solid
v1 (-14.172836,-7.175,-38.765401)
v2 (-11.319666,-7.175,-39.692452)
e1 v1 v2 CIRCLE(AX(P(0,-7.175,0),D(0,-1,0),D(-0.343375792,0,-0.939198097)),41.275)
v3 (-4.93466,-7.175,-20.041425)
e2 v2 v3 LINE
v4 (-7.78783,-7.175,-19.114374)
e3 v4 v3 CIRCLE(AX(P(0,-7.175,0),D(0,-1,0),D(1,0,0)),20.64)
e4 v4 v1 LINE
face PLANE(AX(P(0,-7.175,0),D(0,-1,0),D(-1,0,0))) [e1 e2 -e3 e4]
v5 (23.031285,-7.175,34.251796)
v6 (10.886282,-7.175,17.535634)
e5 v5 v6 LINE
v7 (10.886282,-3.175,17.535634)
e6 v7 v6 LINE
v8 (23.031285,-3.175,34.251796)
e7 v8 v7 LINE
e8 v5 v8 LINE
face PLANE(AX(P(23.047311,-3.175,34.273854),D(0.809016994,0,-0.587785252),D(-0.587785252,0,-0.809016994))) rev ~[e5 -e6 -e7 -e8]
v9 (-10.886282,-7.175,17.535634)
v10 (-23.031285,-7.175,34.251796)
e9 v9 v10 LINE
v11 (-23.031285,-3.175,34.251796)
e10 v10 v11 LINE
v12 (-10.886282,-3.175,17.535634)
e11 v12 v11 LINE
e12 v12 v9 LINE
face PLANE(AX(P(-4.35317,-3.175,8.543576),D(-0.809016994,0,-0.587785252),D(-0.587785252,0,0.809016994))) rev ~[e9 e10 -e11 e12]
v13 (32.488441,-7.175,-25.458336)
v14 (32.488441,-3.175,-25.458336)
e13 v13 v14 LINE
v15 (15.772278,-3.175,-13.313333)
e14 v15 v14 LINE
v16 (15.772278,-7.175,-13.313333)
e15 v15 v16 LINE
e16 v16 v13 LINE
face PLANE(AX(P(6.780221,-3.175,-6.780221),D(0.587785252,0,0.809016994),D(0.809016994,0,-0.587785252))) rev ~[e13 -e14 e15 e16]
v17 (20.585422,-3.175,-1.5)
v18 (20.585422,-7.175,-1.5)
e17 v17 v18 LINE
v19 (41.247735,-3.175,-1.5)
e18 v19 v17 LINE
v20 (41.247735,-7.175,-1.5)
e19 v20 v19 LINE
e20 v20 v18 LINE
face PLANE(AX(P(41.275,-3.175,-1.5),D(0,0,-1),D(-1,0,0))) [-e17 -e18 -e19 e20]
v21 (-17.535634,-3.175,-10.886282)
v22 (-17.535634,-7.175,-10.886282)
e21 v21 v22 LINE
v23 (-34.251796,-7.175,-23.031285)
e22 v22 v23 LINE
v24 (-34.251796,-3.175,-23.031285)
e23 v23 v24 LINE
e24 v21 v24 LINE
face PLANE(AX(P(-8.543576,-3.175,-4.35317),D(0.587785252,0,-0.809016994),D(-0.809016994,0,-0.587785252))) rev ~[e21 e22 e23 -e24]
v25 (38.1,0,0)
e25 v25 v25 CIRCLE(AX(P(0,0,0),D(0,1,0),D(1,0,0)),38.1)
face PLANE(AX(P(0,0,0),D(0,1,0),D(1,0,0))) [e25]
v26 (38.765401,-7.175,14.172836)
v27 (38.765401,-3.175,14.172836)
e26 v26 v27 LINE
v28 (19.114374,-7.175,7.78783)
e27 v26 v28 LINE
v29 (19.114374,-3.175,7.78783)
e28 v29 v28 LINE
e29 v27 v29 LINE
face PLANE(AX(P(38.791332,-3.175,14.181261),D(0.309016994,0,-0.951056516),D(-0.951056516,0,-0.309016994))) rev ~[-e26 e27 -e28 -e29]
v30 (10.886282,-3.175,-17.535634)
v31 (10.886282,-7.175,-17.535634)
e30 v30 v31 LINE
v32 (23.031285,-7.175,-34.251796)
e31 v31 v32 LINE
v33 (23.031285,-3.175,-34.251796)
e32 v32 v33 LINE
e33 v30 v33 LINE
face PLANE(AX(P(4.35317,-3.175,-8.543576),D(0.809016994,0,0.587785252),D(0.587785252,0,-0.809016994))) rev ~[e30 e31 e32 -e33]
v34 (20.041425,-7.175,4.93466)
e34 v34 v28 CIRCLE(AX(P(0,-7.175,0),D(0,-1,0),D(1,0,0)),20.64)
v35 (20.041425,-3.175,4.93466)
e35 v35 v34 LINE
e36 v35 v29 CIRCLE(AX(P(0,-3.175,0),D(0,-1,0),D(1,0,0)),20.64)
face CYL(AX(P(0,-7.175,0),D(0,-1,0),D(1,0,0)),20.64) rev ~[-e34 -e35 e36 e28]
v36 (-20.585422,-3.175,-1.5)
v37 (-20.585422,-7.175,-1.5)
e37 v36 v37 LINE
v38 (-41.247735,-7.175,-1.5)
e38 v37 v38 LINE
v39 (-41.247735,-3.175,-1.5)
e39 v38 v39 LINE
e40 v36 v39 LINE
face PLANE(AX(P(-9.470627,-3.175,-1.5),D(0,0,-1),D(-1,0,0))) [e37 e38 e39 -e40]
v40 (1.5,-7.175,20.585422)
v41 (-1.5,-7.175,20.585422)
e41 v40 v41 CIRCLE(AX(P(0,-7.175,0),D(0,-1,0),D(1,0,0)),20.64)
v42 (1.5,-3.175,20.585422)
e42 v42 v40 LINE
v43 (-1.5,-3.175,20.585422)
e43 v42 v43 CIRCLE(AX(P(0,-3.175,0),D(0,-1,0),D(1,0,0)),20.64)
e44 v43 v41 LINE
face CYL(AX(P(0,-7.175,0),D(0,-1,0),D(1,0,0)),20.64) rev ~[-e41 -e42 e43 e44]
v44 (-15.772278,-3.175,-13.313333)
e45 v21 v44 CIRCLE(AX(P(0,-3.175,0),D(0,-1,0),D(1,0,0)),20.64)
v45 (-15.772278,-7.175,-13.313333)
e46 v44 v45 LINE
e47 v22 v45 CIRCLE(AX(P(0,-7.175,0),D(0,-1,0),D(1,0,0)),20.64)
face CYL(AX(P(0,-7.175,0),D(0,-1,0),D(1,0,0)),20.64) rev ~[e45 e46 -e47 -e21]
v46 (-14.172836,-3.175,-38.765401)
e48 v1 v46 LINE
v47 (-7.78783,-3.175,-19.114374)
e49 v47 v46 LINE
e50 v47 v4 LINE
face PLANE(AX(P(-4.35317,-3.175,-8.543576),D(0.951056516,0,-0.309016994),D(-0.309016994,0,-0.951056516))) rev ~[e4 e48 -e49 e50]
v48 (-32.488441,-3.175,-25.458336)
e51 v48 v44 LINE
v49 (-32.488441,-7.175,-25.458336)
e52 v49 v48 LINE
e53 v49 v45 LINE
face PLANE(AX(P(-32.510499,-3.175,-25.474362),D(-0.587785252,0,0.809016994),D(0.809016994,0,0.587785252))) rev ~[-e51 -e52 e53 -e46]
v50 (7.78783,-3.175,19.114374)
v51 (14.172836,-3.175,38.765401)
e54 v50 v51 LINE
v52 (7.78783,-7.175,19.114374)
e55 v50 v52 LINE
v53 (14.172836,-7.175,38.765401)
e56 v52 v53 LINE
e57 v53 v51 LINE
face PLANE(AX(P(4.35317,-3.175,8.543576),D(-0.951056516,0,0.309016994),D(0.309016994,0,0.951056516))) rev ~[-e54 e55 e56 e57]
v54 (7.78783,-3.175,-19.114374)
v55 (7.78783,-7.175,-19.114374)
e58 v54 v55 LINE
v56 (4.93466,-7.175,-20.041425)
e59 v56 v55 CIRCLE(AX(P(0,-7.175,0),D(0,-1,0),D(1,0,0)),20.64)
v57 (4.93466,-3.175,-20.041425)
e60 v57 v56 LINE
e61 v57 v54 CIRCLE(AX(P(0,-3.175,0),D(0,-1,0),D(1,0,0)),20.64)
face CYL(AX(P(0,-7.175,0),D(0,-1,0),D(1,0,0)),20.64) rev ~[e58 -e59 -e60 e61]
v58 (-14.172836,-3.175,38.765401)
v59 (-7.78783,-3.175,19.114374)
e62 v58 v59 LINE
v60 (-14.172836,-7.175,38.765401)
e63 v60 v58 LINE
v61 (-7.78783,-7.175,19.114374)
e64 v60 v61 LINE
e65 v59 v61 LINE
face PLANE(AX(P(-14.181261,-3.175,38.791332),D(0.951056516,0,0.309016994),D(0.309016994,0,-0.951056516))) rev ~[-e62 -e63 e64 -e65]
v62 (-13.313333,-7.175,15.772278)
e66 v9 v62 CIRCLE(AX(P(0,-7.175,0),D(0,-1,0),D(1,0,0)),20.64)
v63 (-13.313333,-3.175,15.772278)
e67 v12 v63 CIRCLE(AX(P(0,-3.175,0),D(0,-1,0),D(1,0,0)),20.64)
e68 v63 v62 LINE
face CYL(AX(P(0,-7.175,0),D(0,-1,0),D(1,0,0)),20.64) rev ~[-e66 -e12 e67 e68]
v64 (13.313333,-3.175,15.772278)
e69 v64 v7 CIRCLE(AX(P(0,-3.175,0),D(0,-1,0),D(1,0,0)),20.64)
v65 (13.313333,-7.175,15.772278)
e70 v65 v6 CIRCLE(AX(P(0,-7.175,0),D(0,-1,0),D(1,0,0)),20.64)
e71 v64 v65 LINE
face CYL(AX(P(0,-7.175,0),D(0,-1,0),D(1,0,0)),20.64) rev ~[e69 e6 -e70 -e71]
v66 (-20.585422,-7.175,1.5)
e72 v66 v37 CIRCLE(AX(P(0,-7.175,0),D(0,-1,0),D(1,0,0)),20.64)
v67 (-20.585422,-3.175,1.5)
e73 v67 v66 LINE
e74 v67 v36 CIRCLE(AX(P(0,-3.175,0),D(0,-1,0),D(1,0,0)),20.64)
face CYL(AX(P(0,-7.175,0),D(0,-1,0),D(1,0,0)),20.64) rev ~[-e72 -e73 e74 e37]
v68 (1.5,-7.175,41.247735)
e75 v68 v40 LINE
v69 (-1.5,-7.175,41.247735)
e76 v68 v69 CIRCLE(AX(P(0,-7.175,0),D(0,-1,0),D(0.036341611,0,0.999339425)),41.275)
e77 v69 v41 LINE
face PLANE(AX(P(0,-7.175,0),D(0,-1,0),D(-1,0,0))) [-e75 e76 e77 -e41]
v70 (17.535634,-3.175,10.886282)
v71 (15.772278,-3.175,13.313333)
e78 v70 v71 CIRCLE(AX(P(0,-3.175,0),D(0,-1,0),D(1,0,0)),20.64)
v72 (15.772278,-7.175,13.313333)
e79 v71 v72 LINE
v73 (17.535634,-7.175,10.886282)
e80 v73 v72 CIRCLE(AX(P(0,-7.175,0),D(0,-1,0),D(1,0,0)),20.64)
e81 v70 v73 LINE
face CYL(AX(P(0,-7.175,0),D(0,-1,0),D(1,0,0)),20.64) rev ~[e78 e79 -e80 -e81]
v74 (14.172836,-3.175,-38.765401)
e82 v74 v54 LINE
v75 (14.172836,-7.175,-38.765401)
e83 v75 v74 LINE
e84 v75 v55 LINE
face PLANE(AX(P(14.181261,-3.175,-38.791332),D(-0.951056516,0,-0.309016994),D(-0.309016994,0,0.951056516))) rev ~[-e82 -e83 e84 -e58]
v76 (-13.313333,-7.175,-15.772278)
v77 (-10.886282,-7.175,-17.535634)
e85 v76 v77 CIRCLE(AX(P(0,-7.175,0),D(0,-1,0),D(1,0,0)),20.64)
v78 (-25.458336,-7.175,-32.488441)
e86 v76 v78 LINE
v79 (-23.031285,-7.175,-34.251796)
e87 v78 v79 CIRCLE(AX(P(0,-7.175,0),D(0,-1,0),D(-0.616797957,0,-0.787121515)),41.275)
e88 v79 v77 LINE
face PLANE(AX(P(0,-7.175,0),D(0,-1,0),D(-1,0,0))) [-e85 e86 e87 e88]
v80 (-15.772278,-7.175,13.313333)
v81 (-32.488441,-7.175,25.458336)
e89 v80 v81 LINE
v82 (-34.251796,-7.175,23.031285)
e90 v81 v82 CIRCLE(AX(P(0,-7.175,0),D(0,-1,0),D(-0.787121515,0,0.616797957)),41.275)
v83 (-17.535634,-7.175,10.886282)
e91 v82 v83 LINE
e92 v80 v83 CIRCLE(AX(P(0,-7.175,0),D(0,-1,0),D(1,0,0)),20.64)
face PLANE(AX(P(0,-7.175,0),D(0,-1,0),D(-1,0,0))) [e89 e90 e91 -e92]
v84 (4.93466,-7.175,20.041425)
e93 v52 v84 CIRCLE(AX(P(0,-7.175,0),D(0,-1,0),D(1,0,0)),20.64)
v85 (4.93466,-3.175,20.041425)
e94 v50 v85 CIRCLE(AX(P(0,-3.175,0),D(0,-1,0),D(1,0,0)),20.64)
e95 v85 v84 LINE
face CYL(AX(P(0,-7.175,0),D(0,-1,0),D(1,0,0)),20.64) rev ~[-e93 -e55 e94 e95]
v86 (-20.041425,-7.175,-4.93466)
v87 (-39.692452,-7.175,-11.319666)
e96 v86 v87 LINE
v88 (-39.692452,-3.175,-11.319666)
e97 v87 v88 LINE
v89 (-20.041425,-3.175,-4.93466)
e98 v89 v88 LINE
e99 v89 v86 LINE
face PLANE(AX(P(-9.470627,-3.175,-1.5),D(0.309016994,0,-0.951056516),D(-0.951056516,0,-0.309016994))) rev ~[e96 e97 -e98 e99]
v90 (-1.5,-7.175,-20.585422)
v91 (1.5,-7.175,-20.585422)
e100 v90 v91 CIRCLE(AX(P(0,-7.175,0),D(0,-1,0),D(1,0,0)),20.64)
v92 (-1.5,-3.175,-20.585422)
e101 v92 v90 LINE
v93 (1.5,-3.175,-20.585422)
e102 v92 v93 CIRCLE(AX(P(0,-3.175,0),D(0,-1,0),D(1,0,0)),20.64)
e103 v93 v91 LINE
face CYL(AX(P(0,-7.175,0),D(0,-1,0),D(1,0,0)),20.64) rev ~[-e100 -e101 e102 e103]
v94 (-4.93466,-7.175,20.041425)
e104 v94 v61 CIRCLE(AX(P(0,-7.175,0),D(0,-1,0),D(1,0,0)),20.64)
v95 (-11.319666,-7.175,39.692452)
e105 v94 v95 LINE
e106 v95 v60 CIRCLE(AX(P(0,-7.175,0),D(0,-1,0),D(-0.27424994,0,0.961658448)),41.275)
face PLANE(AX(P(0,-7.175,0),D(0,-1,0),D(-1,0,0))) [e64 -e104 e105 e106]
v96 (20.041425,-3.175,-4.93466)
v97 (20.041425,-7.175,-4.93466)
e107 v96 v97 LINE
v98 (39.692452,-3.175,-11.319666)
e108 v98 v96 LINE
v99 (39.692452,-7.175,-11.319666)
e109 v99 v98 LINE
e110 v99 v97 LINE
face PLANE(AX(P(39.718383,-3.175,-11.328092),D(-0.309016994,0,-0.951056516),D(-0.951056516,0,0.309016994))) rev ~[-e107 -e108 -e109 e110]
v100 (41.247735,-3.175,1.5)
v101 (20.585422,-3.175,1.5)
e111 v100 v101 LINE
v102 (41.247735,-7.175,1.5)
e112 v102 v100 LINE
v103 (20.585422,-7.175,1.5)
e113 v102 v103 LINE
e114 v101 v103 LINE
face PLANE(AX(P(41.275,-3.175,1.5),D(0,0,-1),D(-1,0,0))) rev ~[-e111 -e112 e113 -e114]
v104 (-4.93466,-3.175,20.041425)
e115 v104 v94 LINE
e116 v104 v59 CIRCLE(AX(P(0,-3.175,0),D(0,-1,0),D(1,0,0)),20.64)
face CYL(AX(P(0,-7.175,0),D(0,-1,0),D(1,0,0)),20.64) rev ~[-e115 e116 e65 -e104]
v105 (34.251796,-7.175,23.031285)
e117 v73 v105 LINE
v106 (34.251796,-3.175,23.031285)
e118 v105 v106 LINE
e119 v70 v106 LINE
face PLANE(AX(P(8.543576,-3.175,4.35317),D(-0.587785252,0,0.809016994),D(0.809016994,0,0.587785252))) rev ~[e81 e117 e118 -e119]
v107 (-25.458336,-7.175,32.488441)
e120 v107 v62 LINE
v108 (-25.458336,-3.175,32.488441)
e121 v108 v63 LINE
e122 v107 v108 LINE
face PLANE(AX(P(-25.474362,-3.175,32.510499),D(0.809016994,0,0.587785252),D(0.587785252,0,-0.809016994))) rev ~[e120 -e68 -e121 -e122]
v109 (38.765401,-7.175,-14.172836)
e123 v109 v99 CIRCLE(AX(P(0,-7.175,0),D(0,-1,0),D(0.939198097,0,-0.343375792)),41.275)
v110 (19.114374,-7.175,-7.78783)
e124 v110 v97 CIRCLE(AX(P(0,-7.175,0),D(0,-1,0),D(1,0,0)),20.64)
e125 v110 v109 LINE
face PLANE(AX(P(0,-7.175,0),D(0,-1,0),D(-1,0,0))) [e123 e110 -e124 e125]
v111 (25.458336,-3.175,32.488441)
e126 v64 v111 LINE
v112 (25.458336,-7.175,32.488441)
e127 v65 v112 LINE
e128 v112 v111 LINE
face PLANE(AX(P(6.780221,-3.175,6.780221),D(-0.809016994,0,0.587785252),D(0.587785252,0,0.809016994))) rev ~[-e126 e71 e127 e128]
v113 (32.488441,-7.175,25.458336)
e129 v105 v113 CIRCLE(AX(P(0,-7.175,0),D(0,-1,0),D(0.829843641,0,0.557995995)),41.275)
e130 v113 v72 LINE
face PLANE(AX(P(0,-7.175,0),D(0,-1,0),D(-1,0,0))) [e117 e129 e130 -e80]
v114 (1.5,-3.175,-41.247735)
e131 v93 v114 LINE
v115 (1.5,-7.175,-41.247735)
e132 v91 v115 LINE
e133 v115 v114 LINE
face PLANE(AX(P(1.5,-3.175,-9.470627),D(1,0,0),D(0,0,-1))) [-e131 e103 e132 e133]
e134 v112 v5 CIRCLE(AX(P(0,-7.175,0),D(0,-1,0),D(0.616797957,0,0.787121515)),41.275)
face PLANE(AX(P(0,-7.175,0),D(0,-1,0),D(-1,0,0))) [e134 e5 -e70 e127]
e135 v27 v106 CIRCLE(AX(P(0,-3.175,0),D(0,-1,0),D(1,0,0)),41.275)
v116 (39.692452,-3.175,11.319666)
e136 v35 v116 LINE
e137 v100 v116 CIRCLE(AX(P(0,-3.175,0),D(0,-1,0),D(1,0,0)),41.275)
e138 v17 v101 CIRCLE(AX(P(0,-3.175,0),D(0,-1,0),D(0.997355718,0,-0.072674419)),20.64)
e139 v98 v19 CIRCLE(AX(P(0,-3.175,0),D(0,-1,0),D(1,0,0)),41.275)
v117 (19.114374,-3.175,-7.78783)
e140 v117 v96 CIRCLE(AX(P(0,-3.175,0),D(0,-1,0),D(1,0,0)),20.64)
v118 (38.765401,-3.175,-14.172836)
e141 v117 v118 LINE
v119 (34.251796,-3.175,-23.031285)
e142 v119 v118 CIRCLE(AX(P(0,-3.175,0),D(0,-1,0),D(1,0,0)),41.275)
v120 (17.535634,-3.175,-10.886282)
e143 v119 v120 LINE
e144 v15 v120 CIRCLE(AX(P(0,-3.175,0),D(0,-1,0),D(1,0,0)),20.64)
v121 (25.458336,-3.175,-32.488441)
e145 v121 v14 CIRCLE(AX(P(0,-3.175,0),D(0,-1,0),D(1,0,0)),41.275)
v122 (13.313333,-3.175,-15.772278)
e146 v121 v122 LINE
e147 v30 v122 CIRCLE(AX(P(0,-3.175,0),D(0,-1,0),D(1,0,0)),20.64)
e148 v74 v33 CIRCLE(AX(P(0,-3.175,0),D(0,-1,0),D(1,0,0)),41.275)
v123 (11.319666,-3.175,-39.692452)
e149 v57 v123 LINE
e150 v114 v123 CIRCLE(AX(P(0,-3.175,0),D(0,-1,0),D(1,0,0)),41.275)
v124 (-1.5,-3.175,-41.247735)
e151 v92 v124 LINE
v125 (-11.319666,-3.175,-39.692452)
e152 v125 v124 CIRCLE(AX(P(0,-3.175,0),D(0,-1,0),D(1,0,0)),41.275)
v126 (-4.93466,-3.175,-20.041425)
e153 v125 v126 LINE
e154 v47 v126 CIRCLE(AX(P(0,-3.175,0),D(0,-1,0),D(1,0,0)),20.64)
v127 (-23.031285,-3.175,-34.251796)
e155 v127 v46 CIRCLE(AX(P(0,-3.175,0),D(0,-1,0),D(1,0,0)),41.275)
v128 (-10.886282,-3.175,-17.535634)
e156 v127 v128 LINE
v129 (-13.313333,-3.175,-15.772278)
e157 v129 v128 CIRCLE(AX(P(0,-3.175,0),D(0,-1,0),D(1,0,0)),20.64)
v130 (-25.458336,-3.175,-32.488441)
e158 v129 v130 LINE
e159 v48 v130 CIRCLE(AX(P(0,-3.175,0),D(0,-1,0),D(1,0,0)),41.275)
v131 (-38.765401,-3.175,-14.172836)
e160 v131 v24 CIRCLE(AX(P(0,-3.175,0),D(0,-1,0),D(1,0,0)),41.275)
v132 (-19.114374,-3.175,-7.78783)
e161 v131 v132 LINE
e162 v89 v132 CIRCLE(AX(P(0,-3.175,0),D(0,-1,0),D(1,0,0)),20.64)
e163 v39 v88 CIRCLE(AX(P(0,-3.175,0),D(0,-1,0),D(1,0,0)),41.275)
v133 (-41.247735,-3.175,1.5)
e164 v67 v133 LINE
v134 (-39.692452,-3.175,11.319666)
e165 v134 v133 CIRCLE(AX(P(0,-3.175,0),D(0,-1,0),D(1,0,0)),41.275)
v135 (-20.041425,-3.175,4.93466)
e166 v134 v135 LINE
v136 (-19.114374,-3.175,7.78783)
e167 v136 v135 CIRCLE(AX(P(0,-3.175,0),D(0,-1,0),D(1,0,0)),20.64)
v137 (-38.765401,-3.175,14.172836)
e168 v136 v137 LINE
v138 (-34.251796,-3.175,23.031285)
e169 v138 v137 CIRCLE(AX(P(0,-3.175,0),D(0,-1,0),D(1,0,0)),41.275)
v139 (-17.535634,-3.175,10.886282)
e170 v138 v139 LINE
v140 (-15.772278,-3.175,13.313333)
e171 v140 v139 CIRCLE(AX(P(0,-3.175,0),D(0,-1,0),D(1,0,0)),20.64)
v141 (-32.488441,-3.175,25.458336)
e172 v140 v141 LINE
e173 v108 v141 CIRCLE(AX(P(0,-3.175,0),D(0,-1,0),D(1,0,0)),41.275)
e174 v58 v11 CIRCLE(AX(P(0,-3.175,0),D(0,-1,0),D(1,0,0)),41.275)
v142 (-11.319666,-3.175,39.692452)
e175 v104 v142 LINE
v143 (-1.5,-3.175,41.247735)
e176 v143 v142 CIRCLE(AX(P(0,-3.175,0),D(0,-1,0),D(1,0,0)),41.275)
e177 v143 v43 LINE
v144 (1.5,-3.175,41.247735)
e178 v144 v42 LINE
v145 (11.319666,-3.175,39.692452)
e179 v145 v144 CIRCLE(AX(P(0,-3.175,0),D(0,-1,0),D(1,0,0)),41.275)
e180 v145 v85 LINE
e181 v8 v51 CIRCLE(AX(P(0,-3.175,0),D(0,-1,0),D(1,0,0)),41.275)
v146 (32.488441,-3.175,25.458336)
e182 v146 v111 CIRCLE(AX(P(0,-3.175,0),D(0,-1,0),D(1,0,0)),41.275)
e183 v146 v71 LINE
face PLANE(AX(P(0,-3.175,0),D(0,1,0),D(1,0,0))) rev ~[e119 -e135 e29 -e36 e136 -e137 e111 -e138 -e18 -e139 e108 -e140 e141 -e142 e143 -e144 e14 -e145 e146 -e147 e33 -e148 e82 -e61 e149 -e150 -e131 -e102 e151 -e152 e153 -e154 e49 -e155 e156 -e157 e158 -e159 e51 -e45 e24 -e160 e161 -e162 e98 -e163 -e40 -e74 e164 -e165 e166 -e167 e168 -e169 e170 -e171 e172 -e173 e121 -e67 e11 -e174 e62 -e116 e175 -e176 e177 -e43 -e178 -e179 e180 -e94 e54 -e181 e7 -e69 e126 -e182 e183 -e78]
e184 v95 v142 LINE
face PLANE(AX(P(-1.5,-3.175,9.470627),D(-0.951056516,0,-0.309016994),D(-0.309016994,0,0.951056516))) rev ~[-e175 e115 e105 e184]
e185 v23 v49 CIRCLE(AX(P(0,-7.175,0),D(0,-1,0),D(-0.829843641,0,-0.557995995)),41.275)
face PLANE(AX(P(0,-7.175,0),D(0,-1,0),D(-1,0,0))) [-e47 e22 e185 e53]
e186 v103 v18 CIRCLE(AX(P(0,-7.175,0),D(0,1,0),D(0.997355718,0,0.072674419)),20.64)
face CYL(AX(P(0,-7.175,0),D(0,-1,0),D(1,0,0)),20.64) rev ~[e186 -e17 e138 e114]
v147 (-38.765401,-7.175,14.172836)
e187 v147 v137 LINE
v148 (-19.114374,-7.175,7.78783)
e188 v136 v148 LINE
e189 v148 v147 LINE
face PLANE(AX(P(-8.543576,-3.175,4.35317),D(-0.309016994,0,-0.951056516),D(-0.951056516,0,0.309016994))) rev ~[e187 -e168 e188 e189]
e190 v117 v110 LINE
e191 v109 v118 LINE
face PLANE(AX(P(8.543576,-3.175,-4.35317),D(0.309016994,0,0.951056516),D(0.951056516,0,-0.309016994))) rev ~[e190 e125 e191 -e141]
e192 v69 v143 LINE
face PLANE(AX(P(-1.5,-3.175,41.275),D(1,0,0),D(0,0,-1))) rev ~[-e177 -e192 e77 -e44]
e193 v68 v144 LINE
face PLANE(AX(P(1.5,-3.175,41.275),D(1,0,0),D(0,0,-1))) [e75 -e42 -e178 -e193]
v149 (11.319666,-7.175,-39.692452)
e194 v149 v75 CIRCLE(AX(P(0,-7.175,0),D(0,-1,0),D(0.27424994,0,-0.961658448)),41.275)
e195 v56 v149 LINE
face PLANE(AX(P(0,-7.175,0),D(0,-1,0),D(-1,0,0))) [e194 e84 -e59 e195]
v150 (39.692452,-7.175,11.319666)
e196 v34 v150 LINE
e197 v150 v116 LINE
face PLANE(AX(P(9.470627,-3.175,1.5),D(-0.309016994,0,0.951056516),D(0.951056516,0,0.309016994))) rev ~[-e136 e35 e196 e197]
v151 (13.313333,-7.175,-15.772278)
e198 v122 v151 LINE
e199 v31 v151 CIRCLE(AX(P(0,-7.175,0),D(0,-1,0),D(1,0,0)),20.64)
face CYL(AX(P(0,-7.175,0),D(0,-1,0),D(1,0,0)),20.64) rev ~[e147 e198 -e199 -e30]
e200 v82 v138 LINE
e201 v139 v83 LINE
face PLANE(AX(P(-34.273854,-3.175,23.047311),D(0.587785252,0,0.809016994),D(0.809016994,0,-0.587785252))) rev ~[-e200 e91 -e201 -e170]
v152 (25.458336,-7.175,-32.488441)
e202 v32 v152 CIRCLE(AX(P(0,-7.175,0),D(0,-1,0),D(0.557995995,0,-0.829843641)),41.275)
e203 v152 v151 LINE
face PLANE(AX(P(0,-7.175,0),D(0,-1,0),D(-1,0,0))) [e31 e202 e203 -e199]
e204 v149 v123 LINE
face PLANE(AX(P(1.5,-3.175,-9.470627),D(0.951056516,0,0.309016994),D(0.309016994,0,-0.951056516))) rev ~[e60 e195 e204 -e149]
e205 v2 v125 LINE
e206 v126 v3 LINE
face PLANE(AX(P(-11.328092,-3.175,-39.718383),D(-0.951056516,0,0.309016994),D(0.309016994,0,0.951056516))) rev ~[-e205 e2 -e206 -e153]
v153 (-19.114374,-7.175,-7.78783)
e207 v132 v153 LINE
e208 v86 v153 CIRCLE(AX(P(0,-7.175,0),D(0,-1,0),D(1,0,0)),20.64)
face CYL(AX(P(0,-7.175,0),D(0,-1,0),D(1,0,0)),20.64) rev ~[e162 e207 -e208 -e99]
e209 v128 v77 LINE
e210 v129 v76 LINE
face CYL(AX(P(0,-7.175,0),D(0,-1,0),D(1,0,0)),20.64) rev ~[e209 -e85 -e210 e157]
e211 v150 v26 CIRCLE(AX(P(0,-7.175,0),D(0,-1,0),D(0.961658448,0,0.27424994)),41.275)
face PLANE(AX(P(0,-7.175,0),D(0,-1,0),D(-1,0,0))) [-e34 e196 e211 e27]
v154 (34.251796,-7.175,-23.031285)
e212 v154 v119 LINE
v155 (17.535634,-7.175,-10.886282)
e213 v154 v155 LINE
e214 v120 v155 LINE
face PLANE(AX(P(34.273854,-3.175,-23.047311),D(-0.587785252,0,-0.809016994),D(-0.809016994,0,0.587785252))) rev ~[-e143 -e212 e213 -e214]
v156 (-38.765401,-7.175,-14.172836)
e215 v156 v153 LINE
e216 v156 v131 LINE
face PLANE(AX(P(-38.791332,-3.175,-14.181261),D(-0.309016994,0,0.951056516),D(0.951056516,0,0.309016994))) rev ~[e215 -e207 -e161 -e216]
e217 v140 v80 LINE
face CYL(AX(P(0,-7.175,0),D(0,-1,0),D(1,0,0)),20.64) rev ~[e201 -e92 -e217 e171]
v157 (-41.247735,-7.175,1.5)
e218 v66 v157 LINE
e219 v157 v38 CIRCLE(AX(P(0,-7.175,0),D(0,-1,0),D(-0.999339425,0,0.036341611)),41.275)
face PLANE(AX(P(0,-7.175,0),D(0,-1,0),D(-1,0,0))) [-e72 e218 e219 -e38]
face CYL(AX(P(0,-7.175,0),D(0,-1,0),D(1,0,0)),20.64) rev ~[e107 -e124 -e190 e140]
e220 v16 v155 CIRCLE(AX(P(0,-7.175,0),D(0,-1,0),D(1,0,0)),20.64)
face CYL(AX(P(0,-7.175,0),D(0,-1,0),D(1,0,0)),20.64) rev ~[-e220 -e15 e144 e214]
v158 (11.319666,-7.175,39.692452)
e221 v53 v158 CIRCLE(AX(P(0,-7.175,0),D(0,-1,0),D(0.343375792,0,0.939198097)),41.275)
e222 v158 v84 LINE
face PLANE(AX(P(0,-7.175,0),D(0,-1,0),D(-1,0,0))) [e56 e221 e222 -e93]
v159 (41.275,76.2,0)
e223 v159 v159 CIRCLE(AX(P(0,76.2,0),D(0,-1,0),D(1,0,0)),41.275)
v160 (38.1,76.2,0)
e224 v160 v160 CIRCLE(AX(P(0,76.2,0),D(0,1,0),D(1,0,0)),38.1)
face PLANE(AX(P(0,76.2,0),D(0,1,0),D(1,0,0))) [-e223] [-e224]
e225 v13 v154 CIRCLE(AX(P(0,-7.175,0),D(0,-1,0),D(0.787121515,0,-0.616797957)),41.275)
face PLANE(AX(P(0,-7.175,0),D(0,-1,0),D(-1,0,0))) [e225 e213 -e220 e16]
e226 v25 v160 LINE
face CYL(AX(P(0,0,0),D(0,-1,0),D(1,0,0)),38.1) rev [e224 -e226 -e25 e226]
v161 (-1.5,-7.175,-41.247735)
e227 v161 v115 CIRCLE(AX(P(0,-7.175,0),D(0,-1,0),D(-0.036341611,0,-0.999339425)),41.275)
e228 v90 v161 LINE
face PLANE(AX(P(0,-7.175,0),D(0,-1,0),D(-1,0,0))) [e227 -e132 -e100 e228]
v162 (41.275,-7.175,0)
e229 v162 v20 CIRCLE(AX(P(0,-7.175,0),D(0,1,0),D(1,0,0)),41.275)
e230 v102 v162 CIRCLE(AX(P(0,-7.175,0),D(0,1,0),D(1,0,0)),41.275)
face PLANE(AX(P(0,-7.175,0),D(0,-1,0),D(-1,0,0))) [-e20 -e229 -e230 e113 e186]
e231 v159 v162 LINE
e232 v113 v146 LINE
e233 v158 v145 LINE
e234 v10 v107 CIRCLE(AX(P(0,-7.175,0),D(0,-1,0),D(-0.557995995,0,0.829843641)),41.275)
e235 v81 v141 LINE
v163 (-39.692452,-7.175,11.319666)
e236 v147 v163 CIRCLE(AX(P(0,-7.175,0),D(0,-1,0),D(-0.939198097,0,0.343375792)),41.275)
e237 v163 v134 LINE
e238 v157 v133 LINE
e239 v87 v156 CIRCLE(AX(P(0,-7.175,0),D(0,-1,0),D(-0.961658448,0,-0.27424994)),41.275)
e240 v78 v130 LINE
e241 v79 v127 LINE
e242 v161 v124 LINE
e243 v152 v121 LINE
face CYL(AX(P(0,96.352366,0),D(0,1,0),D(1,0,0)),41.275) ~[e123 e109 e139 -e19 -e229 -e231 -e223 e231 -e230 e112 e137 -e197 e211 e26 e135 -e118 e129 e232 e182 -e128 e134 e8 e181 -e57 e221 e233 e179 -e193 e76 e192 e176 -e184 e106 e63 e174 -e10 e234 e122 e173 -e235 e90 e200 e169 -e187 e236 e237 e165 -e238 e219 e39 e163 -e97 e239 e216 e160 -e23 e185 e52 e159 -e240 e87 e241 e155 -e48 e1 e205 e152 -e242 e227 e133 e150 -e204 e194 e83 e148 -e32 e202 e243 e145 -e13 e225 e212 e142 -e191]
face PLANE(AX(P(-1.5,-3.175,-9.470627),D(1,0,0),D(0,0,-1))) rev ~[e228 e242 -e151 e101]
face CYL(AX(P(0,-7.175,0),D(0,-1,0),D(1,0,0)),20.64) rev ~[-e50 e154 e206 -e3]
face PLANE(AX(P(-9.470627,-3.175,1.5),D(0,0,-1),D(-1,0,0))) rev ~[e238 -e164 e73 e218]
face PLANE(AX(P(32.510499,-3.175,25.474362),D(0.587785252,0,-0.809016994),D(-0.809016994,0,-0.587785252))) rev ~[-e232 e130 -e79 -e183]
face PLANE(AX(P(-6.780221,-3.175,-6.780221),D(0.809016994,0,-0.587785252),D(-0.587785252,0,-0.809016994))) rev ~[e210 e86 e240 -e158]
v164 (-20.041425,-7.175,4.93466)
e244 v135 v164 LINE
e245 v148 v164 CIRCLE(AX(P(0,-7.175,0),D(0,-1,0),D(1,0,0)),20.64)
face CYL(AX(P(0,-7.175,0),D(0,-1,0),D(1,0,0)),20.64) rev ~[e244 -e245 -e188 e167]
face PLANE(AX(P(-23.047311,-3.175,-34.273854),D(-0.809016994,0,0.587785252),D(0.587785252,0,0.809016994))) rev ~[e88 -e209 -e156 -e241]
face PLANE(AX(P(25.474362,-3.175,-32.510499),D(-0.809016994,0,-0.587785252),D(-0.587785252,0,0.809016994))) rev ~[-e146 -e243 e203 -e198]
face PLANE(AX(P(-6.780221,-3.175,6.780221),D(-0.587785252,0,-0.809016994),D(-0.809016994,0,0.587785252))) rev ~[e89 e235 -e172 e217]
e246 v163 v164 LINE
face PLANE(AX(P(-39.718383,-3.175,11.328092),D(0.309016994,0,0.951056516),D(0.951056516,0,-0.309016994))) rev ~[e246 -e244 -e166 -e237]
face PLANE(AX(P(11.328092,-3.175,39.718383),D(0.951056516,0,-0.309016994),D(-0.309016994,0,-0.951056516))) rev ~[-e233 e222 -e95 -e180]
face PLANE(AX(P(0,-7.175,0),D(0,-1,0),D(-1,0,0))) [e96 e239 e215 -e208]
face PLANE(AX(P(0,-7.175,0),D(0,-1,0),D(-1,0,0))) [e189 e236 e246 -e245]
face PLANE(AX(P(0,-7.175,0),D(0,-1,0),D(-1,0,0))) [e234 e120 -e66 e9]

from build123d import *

# Parameters (mm, degrees)
SKETCH1_R               = 38.1
BOSS_EXTRUDE1_DEPTH     = 76.2
SHELL2_T                = 3.175
SKETCH2_W               = 3
SKETCH2_H               = 82.55
SKETCH2_W_2             = 82.55
SKETCH2_H_2             = 3
BOSS_EXTRUDE2_DEPTH     = 4
CUT_EXTRUDE1_DEPTH      = 99.527366122
CUT_EXTRUDE1_DEPTH_BACK = 99.527366122
SKETCH3_R               = 61.906276858
SKETCH3_R_2             = 41.275
SKETCH4_R               = 20.64
CUT_EXTRUDE2_DEPTH      = 4


with BuildPart() as part:
    # Sketch1 → Boss-Extrude1 (new body)
    with BuildSketch(Plane(origin=(0, 0, 0), x_dir=(1, 0, 0), z_dir=(0, 1, 0))):
        Circle(SKETCH1_R)
    extrude(amount=BOSS_EXTRUDE1_DEPTH)

    # Shell2
    shell2_openings = [part.faces().sort_by_distance(p)[0] for p in [
        (0, 76.2, 0),
    ]]
    offset(amount=SHELL2_T, openings=shell2_openings, kind=Kind.INTERSECTION)

    # Sketch2 → Boss-Extrude2 (add)
    with BuildSketch(Plane(origin=(0, -3.175, 0), x_dir=(-1, 0, 0), z_dir=(0, -1, 0))):
        Rectangle(SKETCH2_W, SKETCH2_H)
        Polygon((-23.047310797, -34.273854321), (25.47436178, 32.510498564), (23.047310797, 34.273854321), (-25.47436178, -32.510498564), align=None)
        Polygon((-38.791332219, -14.181261217), (39.718383202, 11.328091668), (38.791332219, 14.181261217), (-39.718383202, -11.328091668), align=None)
        Polygon((-39.718383202, 11.328091668), (38.791332219, -14.181261217), (39.718383202, -11.328091668), (-38.791332219, 14.181261217), align=None)
        Polygon((-25.47436178, 32.510498564), (23.047310797, -34.273854321), (25.47436178, -32.510498564), (-23.047310797, 34.273854321), align=None)
        Polygon((-14.181261217, 38.791332219), (11.328091668, -39.718383202), (14.181261217, -38.791332219), (-11.328091668, 39.718383202), align=None)
        Polygon((11.328091668, 39.718383202), (-14.181261217, -38.791332219), (-11.328091668, -39.718383202), (14.181261217, 38.791332219), align=None)
        Polygon((32.510498564, 25.47436178), (-34.273854321, -23.047310797), (-32.510498564, -25.47436178), (34.273854321, 23.047310797), align=None)
        Rectangle(SKETCH2_W_2, SKETCH2_H_2)
        Polygon((-34.273854321, 23.047310797), (32.510498564, -25.47436178), (34.273854321, -23.047310797), (-32.510498564, 25.47436178), align=None)
    extrude(amount=BOSS_EXTRUDE2_DEPTH)

    # Sketch3 → Cut-Extrude1 (cut, two sides: drawn at the far end of the back side and taken through both)
    with BuildSketch(Plane.XZ.offset(3.175).offset(-CUT_EXTRUDE1_DEPTH_BACK)):
        Circle(SKETCH3_R)
        Circle(SKETCH3_R_2, mode=Mode.SUBTRACT)
    extrude(amount=CUT_EXTRUDE1_DEPTH + CUT_EXTRUDE1_DEPTH_BACK, mode=Mode.SUBTRACT)

    # Sketch4 → Cut-Extrude2 (cut)
    with BuildSketch(Plane.XZ.offset(7.175)):
        Circle(SKETCH4_R)
    extrude(amount=-CUT_EXTRUDE2_DEPTH, mode=Mode.SUBTRACT)


solid = part.part
